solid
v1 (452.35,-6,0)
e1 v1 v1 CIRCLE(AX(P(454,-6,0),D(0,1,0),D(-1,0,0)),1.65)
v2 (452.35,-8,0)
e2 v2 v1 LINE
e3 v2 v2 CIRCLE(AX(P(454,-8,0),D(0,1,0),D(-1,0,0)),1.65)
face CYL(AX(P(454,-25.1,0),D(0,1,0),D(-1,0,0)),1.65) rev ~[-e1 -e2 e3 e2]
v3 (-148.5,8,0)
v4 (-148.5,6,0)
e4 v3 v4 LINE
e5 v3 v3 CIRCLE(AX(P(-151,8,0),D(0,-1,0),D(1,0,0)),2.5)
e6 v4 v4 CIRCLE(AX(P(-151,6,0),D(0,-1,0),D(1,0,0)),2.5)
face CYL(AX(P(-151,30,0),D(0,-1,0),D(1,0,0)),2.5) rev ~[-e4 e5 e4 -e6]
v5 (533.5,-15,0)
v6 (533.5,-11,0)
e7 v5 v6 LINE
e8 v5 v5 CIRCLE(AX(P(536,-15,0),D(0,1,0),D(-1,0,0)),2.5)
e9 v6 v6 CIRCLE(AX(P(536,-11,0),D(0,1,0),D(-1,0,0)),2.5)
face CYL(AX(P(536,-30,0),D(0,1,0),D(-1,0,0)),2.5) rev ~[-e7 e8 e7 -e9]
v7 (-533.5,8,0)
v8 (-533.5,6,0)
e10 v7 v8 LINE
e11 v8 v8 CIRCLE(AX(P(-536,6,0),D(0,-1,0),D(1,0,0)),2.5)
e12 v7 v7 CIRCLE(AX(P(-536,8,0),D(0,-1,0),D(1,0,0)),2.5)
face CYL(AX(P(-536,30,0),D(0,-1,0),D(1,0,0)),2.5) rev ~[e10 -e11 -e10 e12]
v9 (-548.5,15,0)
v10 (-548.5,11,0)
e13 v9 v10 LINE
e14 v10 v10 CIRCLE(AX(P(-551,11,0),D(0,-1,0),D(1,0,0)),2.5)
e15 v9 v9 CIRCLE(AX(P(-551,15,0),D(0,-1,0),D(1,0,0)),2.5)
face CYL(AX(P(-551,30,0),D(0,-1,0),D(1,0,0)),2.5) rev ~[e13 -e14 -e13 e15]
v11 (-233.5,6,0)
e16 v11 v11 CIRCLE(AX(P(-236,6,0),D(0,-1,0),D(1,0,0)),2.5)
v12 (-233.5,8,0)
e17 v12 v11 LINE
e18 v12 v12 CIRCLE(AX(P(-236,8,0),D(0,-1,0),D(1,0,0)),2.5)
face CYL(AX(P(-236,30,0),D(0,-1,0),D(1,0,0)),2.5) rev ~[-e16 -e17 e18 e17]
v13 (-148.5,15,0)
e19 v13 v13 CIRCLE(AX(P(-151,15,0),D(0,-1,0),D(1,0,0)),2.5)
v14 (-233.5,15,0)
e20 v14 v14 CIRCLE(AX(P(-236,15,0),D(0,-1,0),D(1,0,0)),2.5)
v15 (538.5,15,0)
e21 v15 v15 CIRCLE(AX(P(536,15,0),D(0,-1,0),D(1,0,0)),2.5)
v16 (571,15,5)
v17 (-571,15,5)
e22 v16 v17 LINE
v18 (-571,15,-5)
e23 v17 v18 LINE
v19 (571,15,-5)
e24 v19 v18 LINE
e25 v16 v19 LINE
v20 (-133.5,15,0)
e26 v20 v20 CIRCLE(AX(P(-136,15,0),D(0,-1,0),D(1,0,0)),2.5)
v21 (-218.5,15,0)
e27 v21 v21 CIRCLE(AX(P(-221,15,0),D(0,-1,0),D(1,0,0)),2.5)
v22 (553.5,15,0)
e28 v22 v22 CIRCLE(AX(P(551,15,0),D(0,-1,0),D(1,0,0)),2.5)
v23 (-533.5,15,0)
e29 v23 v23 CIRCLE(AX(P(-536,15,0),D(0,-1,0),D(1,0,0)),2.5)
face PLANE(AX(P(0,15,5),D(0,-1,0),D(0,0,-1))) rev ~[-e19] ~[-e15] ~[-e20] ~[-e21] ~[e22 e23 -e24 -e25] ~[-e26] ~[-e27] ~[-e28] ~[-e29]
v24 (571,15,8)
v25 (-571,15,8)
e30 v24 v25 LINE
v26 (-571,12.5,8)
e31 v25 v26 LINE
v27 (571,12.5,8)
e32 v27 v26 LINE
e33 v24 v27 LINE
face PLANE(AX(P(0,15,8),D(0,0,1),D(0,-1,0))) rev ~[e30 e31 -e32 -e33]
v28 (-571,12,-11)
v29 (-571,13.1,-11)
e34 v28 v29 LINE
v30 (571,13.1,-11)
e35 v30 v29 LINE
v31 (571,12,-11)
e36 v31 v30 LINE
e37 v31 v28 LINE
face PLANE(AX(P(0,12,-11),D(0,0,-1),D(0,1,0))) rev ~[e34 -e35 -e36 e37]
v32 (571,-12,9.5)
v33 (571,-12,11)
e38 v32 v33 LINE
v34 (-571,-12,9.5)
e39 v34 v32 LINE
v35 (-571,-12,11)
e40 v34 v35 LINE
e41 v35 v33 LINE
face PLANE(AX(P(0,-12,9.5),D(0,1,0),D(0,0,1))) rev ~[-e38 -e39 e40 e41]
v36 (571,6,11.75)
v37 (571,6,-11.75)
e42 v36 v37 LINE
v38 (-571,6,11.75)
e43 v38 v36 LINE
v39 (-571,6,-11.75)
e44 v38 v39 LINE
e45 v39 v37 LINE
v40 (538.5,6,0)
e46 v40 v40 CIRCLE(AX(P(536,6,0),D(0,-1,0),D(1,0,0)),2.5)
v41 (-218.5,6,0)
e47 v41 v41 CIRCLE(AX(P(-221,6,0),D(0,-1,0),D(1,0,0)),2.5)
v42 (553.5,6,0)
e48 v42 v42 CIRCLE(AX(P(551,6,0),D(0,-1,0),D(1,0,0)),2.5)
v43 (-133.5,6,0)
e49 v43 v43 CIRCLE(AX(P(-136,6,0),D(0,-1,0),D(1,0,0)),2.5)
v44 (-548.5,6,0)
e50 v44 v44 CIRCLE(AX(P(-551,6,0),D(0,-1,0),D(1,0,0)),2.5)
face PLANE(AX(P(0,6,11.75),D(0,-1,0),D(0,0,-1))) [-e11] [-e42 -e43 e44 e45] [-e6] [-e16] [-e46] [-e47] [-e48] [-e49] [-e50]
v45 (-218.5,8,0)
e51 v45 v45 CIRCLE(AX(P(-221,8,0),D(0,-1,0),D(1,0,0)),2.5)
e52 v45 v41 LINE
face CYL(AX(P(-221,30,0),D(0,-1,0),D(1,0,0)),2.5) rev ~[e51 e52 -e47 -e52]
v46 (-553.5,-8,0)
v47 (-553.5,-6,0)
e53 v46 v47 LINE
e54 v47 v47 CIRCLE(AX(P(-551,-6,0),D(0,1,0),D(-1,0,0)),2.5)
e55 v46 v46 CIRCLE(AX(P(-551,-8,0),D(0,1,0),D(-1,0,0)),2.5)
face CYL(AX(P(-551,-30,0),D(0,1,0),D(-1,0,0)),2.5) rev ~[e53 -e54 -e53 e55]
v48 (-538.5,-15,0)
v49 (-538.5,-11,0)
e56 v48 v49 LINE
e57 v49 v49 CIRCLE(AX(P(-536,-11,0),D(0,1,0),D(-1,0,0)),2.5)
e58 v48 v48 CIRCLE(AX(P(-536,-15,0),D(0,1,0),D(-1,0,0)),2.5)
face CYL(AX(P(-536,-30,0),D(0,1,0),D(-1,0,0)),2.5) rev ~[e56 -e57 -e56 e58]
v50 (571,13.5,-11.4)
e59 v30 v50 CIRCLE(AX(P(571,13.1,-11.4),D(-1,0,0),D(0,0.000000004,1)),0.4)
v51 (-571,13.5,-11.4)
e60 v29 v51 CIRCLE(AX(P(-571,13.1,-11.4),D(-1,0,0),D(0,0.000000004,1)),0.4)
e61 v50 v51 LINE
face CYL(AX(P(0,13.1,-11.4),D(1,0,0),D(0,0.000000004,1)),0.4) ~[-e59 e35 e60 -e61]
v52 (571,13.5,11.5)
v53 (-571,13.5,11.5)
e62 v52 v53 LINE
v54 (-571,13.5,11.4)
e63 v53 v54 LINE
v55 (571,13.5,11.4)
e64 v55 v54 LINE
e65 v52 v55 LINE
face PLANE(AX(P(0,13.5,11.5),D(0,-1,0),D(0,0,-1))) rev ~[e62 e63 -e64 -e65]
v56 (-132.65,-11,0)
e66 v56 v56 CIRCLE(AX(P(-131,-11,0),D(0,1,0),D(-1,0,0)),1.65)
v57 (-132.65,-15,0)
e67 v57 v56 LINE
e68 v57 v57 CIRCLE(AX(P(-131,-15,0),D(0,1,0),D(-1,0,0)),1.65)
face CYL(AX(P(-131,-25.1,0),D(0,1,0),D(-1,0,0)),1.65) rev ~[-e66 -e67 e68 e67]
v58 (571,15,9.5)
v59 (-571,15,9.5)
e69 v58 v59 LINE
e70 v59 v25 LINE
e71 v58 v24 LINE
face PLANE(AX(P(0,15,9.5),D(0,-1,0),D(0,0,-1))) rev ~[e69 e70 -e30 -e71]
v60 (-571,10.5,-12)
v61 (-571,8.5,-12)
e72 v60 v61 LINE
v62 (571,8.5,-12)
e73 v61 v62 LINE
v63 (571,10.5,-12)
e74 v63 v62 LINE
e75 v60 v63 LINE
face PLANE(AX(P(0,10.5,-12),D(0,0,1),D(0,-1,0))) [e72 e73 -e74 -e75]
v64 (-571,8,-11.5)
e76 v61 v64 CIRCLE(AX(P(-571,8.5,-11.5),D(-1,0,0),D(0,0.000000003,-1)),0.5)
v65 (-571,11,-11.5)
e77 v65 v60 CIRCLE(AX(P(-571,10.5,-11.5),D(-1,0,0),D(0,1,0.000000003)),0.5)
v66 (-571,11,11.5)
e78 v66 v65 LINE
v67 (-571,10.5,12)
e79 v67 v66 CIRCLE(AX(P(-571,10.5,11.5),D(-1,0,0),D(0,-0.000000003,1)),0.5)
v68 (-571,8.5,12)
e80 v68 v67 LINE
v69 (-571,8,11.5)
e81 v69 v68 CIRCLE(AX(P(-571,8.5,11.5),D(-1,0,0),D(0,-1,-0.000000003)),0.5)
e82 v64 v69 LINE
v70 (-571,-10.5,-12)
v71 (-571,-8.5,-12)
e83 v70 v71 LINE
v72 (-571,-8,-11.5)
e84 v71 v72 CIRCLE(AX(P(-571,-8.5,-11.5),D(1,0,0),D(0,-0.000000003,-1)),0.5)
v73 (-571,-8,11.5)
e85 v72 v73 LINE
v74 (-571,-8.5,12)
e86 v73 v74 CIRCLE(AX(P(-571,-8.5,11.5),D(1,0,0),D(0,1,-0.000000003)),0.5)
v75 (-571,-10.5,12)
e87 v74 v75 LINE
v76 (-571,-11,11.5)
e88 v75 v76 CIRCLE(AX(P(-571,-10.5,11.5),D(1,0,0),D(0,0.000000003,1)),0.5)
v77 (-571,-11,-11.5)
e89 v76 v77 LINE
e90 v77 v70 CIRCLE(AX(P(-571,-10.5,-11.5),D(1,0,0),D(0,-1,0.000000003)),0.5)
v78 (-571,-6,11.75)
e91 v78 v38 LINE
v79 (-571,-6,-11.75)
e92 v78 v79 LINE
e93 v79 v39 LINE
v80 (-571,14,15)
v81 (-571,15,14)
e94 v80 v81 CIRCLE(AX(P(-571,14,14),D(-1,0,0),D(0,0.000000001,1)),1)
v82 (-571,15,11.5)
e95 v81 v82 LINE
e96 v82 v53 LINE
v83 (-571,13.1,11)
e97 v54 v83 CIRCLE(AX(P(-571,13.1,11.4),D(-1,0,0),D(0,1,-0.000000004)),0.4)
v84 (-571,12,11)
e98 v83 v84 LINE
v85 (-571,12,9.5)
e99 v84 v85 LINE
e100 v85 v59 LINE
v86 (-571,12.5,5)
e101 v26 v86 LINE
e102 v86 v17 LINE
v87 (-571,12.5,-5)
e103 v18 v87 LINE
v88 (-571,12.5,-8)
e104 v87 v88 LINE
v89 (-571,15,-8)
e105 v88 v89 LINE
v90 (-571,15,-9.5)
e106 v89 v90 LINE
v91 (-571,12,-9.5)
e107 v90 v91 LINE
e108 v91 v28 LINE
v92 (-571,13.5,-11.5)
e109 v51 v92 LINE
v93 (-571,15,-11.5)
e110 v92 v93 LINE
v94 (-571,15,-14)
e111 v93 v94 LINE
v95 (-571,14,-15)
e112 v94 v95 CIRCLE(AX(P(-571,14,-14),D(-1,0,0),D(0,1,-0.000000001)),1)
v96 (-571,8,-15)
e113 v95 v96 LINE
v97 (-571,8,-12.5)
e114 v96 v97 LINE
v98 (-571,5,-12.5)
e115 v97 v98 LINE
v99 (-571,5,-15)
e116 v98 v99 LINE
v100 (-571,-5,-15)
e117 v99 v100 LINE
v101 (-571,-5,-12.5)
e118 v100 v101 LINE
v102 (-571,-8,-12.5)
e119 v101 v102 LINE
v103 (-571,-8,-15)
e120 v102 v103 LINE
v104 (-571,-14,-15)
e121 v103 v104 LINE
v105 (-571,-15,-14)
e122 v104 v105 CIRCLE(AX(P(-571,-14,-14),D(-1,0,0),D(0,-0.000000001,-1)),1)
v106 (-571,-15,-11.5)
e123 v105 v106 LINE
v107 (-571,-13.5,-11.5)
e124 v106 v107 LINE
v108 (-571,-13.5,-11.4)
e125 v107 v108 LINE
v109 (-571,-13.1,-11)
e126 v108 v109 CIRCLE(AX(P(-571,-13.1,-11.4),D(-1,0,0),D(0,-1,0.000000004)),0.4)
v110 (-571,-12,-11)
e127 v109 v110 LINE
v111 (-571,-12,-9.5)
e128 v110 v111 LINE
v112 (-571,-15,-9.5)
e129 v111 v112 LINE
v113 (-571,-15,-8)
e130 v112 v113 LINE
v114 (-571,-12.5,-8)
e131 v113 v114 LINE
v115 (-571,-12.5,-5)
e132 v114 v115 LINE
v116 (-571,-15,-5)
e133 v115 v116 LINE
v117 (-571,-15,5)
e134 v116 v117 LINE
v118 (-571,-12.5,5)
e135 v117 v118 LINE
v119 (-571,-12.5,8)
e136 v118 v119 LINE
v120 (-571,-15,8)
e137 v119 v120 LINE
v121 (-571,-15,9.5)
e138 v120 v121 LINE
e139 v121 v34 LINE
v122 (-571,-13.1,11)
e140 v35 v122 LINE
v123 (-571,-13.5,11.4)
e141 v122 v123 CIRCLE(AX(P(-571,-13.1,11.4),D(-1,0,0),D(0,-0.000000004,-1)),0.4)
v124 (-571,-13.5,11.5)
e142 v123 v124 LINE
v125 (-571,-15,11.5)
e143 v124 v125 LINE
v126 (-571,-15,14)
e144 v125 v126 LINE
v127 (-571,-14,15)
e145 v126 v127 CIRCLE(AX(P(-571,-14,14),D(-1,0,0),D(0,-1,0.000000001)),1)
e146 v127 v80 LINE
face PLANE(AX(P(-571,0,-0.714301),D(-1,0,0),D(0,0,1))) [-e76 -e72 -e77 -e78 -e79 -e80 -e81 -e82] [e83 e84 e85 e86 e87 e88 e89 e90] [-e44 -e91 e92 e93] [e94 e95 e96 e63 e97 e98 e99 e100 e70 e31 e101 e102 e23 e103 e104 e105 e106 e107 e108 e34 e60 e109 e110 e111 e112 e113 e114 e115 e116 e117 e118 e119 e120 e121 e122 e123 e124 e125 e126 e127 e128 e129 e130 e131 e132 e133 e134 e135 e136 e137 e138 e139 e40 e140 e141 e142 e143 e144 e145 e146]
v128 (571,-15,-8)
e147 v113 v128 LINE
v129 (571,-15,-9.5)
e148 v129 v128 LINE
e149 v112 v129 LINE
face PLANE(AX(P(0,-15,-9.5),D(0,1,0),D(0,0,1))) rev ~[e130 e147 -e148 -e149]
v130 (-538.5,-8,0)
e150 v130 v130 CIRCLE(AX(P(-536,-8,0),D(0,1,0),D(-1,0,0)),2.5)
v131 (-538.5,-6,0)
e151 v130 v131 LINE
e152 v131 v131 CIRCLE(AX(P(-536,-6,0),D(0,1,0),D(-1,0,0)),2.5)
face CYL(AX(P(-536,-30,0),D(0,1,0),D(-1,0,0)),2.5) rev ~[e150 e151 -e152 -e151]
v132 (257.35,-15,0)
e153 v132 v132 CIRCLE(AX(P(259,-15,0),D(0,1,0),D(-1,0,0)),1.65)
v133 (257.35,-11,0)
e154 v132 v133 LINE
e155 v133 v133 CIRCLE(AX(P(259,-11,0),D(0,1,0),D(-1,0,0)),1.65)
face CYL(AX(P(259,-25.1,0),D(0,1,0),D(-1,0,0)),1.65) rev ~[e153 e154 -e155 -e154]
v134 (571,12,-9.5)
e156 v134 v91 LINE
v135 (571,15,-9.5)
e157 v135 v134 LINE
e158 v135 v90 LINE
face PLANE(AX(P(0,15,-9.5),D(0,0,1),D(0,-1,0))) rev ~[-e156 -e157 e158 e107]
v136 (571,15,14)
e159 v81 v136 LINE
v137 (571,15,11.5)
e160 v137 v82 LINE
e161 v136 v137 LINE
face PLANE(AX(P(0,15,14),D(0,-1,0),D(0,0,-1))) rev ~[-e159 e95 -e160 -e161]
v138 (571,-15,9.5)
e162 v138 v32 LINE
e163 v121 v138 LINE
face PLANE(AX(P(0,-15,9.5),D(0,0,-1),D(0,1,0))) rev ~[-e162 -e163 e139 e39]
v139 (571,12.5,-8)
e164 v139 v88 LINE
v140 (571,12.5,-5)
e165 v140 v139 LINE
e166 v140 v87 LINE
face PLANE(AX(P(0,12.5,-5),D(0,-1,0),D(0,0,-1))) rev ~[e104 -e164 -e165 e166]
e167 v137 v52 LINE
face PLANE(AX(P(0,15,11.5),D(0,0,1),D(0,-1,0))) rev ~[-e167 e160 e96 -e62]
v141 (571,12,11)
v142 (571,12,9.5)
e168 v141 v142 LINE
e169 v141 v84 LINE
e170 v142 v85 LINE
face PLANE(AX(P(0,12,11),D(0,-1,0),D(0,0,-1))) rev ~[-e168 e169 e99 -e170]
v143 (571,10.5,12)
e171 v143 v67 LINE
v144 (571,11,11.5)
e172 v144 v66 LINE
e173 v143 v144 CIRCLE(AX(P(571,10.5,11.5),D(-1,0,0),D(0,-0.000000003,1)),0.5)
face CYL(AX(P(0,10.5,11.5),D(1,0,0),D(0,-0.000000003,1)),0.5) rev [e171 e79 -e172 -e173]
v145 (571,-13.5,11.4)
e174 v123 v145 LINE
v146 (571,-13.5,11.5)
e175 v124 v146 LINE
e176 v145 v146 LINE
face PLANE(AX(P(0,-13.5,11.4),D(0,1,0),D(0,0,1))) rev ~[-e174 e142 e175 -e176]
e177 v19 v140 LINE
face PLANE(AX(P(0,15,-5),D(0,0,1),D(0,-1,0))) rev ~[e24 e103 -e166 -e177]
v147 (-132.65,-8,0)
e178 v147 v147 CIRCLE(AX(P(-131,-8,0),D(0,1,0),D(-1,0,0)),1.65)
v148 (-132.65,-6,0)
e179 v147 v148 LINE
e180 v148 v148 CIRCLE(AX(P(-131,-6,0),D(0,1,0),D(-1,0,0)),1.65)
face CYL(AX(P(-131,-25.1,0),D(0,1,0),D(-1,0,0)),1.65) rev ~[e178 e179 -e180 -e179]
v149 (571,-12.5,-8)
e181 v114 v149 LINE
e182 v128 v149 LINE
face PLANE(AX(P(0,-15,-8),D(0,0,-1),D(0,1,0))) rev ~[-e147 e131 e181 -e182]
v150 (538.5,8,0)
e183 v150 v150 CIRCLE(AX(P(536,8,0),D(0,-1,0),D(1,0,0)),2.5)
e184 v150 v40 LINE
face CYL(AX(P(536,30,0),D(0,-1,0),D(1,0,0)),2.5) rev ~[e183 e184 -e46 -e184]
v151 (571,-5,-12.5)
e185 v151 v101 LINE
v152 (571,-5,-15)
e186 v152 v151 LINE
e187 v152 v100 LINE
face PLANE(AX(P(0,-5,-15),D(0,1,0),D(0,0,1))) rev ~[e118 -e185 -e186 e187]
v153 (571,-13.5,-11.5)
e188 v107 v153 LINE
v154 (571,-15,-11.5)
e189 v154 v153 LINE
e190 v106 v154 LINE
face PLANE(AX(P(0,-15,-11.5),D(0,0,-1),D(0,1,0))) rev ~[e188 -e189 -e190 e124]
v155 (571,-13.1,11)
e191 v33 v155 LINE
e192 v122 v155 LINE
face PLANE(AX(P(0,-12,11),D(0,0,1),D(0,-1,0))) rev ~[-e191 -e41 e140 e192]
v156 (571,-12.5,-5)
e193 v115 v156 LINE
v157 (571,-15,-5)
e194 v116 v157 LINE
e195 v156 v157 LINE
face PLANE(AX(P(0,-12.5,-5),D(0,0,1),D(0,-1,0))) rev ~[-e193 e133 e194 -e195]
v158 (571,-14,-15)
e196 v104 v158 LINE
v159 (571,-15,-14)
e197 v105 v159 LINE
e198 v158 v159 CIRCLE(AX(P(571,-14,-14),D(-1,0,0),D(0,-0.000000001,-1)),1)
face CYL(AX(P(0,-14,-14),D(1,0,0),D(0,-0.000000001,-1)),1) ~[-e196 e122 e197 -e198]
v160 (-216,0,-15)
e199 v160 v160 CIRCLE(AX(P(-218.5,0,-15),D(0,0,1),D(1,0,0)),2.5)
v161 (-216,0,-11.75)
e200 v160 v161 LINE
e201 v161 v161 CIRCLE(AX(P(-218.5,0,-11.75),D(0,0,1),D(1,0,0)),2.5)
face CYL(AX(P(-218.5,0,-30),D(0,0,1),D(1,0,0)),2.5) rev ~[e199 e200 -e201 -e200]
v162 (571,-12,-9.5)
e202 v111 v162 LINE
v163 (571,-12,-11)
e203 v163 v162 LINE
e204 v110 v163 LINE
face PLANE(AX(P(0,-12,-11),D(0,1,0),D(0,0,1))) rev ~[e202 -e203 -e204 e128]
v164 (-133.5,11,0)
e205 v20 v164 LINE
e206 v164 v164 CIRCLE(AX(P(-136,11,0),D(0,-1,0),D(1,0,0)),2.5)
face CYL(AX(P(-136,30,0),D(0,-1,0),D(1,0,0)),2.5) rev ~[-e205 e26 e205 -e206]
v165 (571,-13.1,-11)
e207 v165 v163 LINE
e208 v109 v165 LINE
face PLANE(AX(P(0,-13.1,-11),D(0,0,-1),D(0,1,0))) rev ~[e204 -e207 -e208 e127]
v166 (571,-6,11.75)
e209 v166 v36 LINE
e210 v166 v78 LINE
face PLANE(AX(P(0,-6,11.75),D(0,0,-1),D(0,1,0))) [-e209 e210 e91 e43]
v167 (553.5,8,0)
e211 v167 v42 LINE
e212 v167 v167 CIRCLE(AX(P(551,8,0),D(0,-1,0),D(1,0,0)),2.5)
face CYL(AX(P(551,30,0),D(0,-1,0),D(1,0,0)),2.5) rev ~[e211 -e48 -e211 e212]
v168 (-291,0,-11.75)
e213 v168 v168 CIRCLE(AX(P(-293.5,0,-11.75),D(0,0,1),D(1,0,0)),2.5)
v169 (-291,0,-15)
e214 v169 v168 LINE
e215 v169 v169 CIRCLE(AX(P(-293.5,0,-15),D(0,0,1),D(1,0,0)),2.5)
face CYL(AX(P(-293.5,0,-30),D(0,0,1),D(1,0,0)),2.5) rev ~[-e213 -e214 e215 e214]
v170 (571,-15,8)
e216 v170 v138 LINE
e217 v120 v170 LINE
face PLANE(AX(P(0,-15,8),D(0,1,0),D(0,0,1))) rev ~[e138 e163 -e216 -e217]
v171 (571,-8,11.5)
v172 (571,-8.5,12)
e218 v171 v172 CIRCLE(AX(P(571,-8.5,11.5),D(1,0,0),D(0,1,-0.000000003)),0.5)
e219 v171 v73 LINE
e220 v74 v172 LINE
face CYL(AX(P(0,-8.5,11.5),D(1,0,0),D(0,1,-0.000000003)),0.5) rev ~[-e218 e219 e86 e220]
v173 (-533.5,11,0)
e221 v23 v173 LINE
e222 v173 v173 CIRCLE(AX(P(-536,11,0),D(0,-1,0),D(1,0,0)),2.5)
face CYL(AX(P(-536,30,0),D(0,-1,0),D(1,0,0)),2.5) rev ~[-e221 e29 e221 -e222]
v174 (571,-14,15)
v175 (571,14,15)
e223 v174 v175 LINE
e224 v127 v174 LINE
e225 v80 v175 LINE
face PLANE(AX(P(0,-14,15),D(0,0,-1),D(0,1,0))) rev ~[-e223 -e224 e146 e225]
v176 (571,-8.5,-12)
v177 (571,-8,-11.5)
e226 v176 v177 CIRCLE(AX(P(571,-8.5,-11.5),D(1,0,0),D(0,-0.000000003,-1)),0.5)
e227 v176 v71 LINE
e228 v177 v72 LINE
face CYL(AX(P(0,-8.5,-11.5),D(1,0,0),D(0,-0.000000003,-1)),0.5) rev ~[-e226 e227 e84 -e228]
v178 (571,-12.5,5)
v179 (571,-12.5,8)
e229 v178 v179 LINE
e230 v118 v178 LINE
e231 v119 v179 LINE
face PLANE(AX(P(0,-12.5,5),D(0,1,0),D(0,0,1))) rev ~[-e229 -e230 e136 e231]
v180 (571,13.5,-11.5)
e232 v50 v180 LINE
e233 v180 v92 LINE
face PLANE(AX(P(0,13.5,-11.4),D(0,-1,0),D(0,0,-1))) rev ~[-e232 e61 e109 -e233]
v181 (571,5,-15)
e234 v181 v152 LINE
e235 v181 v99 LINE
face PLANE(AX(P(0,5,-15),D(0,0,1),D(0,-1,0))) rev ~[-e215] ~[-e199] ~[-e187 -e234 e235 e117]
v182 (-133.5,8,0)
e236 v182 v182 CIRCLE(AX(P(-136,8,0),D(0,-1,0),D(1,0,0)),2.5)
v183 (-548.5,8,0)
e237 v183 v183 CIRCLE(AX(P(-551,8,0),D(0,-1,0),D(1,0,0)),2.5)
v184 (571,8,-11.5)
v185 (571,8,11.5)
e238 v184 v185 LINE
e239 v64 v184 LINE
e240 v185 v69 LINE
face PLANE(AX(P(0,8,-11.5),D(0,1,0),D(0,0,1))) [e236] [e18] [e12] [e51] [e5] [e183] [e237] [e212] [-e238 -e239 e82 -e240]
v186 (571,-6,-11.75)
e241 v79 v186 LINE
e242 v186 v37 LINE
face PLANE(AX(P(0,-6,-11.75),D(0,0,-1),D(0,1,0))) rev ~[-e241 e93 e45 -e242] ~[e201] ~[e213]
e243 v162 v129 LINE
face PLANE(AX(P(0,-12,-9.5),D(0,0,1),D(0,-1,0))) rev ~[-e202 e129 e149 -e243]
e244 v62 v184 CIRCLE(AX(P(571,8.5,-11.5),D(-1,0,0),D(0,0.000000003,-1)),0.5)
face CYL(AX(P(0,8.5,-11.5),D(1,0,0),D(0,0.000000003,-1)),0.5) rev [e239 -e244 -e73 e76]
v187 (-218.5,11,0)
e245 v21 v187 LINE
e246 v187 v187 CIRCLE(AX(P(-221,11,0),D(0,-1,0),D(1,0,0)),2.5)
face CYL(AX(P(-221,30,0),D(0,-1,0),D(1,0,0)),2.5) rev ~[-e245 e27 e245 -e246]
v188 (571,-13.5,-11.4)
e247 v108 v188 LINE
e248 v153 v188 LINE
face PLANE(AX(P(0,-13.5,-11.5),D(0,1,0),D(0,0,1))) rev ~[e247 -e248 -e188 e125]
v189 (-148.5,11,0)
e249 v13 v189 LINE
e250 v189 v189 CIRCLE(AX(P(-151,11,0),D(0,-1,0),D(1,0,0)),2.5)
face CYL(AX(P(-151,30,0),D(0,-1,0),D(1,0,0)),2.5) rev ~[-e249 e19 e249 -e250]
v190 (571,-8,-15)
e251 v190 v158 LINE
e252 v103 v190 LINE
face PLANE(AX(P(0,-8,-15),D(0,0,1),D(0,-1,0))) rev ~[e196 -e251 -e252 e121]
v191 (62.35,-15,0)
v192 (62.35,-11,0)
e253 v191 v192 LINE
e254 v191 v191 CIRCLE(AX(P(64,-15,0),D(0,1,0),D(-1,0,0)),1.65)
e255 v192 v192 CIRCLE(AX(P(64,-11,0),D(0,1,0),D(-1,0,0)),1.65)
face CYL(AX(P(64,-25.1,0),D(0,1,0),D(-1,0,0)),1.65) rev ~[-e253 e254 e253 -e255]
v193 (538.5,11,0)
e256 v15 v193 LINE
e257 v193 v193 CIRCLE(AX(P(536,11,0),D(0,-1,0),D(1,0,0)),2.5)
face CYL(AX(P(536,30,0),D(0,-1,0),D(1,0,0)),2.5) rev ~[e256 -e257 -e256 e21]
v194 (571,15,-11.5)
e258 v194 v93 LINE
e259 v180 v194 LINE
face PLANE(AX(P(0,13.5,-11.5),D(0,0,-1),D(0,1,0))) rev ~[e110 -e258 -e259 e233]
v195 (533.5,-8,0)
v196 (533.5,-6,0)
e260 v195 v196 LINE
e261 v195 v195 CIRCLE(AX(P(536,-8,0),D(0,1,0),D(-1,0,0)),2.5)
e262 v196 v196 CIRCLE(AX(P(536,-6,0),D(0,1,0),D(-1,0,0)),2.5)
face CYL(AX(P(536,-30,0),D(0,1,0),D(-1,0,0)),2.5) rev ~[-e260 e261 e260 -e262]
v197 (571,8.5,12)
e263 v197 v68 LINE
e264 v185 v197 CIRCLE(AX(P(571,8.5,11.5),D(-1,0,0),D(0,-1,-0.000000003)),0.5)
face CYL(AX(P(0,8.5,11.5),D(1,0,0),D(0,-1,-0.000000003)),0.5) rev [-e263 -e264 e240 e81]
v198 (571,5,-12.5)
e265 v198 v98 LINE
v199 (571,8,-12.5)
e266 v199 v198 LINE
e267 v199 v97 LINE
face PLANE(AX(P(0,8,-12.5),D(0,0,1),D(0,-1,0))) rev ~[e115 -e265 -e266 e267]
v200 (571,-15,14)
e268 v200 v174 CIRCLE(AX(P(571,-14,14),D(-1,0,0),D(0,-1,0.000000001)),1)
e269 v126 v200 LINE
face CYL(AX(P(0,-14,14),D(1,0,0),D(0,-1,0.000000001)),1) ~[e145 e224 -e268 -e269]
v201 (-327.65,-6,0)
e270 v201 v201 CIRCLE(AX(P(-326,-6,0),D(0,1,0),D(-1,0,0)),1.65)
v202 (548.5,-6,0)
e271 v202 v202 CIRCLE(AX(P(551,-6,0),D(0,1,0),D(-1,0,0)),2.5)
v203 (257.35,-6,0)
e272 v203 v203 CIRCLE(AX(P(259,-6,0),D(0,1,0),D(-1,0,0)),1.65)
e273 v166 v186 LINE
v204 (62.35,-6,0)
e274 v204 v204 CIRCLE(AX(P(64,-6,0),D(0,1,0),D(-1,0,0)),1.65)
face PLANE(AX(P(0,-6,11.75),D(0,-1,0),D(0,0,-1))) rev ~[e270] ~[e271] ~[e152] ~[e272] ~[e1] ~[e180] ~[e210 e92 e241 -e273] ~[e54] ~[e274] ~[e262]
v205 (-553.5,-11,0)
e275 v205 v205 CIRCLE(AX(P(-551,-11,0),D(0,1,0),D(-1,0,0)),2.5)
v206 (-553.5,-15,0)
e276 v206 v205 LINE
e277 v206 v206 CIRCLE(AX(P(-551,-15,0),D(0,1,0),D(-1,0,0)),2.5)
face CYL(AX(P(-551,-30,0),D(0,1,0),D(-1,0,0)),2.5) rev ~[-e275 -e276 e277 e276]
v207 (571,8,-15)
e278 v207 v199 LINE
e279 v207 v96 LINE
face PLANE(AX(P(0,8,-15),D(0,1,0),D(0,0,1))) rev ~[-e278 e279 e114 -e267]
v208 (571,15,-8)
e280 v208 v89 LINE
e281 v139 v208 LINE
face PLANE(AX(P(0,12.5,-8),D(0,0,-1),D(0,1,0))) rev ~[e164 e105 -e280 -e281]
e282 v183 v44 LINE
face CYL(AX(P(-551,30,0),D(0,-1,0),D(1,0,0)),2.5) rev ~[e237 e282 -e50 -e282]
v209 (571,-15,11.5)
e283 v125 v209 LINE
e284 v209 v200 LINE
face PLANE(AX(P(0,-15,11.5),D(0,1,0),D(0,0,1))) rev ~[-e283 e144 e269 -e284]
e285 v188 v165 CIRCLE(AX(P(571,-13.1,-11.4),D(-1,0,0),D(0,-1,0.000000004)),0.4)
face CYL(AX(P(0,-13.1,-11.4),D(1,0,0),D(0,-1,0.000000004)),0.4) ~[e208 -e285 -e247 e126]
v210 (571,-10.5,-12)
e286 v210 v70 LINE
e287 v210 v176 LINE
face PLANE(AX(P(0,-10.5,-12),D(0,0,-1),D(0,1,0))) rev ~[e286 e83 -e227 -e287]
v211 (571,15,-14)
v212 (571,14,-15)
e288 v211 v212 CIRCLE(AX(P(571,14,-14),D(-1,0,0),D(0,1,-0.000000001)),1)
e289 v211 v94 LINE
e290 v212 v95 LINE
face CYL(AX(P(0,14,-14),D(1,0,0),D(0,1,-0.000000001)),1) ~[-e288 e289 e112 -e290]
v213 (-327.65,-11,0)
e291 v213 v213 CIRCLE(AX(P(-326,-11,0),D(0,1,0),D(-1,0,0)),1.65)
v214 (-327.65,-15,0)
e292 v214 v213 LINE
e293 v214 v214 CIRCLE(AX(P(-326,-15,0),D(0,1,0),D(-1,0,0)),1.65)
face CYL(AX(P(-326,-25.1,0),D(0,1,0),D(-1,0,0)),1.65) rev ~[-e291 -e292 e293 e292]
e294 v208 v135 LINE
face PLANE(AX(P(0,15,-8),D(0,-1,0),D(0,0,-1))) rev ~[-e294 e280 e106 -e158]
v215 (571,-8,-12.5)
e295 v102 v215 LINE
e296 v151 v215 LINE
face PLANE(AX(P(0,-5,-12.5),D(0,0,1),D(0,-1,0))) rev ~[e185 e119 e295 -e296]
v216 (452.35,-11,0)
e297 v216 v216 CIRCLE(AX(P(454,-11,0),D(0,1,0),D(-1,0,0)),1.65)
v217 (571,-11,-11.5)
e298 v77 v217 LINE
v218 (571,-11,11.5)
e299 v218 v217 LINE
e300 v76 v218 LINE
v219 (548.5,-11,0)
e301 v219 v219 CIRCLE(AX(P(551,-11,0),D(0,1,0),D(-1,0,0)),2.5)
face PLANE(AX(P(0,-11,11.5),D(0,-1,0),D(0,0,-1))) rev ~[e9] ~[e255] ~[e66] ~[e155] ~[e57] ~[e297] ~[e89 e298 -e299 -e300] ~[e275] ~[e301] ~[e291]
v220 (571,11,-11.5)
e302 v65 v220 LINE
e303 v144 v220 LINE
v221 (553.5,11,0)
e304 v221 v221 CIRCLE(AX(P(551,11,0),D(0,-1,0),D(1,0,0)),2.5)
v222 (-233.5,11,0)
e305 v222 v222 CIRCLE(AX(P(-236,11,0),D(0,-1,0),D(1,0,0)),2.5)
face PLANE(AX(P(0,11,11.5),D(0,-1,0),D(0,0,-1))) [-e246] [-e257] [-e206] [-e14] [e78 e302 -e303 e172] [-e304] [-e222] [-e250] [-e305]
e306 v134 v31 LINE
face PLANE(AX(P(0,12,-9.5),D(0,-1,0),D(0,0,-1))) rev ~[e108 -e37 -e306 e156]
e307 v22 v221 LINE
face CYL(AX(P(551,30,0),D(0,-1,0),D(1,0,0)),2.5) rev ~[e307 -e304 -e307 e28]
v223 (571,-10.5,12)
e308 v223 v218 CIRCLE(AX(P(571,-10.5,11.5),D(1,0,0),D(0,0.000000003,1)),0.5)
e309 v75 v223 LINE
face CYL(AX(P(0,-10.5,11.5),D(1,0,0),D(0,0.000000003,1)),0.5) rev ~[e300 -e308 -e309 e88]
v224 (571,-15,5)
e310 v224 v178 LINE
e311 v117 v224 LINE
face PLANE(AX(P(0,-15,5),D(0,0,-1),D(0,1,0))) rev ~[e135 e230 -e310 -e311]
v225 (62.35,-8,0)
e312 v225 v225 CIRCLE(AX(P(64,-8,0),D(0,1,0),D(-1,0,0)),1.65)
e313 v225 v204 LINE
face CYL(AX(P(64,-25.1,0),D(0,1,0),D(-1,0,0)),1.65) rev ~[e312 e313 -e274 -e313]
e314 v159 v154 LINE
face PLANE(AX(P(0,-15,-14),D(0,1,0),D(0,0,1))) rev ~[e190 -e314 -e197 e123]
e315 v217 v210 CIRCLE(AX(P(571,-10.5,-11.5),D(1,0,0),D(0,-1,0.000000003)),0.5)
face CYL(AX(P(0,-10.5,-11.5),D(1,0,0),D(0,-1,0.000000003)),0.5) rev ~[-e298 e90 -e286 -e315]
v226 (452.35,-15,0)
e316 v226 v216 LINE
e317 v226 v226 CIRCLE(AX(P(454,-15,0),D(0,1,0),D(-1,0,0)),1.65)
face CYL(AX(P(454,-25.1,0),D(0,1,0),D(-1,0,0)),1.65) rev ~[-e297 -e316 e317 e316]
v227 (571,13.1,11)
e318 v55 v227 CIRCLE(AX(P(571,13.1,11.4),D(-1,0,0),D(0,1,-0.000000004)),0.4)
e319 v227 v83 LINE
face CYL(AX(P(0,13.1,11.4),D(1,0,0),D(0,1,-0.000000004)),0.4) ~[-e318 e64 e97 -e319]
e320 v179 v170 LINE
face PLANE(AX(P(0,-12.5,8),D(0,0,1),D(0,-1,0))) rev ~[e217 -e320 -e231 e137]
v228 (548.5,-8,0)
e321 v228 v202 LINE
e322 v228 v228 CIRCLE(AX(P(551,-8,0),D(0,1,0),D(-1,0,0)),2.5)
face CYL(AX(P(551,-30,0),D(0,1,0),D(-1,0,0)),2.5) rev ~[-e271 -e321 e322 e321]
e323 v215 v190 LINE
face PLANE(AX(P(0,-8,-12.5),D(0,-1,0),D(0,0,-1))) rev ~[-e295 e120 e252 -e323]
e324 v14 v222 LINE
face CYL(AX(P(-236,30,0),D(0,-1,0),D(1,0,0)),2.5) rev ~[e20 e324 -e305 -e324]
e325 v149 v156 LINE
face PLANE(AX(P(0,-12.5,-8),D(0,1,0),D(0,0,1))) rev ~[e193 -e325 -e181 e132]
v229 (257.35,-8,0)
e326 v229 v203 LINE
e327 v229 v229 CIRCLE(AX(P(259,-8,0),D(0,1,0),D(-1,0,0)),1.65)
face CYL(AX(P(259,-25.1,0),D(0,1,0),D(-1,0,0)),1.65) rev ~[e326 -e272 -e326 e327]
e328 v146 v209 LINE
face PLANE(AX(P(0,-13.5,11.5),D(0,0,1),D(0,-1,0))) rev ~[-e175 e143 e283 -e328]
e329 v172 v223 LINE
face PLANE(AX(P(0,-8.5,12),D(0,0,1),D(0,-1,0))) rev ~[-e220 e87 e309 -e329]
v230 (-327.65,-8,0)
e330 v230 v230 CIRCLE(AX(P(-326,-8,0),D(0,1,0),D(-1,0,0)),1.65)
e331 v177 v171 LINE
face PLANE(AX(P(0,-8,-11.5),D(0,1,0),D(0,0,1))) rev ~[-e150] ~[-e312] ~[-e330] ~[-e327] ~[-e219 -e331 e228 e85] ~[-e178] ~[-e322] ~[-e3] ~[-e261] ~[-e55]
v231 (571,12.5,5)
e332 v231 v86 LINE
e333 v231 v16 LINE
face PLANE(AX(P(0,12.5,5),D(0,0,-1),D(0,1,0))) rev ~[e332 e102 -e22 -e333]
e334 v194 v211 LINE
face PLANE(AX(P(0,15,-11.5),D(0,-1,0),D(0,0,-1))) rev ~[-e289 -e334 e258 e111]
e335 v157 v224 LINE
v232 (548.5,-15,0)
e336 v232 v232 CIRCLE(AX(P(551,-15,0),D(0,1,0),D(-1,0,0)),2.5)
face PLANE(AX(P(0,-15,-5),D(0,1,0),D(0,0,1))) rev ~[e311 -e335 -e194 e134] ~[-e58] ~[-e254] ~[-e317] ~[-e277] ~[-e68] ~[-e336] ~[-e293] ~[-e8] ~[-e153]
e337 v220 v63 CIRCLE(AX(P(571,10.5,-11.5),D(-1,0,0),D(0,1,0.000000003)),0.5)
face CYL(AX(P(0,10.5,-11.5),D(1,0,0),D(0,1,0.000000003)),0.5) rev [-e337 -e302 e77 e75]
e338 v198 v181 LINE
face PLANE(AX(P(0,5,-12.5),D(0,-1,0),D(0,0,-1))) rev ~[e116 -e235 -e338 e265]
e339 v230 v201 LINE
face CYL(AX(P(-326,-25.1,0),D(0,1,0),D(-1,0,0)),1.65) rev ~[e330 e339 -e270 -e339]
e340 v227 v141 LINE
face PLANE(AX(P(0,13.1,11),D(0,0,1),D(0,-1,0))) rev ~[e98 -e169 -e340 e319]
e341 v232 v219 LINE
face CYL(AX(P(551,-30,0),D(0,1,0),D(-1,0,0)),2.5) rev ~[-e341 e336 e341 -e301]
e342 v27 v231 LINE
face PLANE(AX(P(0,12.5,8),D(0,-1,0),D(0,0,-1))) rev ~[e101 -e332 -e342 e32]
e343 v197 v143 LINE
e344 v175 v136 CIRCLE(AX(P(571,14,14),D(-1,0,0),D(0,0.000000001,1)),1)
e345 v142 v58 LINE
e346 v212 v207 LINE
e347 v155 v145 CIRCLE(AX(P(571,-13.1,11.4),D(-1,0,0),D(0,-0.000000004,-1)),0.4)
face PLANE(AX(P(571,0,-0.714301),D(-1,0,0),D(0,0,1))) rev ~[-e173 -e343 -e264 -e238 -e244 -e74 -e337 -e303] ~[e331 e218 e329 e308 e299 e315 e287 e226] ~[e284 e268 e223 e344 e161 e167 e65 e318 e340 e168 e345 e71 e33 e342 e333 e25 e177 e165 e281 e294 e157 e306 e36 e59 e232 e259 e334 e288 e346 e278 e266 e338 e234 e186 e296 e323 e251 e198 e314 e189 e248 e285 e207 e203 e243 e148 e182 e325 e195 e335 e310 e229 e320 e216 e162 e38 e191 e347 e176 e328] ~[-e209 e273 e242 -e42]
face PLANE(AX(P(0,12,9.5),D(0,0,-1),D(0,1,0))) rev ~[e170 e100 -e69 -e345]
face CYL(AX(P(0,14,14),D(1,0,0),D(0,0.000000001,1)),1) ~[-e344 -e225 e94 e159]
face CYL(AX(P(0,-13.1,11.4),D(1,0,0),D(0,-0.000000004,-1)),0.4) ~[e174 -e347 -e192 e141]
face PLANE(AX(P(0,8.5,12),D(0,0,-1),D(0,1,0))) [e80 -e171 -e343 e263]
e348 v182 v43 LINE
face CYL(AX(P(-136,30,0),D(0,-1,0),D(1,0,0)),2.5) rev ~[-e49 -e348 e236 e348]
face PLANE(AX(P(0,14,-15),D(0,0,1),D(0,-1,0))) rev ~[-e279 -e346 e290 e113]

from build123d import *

# Parameters (mm, degrees)
SKETCH_1_W             = 23.5
SKETCH_1_H             = 12
EXTRUDE_1_DEPTH        = 571
HOLE_WIZARD_M6_1_D     = 5
HOLE_WIZARD_M6_1_DEPTH = 15
HOLE_WIZARD_M6_1_TIP   = 1.502151548
HOLE_WIZARD_M6_2_D     = 5
HOLE_WIZARD_M6_2_DEPTH = 15
HOLE_WIZARD_M6_2_TIP   = 1.502151548
HOLE_WIZARD_M6_3_D     = 5
HOLE_WIZARD_M6_3_DEPTH = 15
HOLE_WIZARD_M6_3_TIP   = 1.502151548
HOLE_WIZARD_M4_1_D     = 3.3
HOLE_WIZARD_M4_1_DEPTH = 10.1
HOLE_WIZARD_M4_1_TIP   = 0.991420021


with BuildPart() as part:
    # 草图1 → 凸台-拉伸1 (new, symmetric)
    with BuildSketch(Plane(origin=(0, 0, 0), x_dir=(0, 0, -1), z_dir=(1, 0, 0))):
        with BuildLine():
            Line((-14, 15), (-11.5, 15))
            Line((-11.5, 15), (-11.5, 13.5))
            Line((-11.5, 13.5), (-11.4, 13.5))
            ThreePointArc((-11.4, 13.5), (-11.117157288, 13.382842712), (-11, 13.1))
            Line((-11, 13.1), (-11, 12))
            Line((-11, 12), (-9.5, 12))
            Line((-9.5, 12), (-9.5, 15))
            Line((-9.5, 15), (-8, 15))
            Line((-8, 15), (-8, 12.5))
            Line((-8, 12.5), (-5, 12.5))
            Line((-5, 12.5), (-5, 15))
            Line((-5, 15), (5, 15))
            Line((5, 15), (5, 12.5))
            Line((5, 12.5), (8, 12.5))
            Line((8, 12.5), (8, 15))
            Line((8, 15), (9.5, 15))
            Line((9.5, 15), (9.5, 12))
            Line((9.5, 12), (11, 12))
            Line((11, 12), (11, 13.1))
            ThreePointArc((11, 13.1), (11.117157288, 13.382842712), (11.4, 13.5))
            Line((11.4, 13.5), (11.5, 13.5))
            Line((11.5, 13.5), (11.5, 15))
            Line((11.5, 15), (14, 15))
            ThreePointArc((14, 15), (14.707106781, 14.707106781), (15, 14))
            Line((15, 14), (15, 8))
            Line((15, 8), (12.5, 8))
            Line((12.5, 8), (12.5, 5))
            Line((12.5, 5), (15, 5))
            Line((15, 5), (15, -5))
            Line((15, -5), (12.5, -5))
            Line((12.5, -5), (12.5, -8))
            Line((12.5, -8), (15, -8))
            Line((15, -8), (15, -14))
            ThreePointArc((15, -14), (14.707106781, -14.707106781), (14, -15))
            Line((14, -15), (11.5, -15))
            Line((11.5, -15), (11.5, -13.5))
            Line((11.5, -13.5), (11.4, -13.5))
            ThreePointArc((11.4, -13.5), (11.117157288, -13.382842712), (11, -13.1))
            Line((11, -13.1), (11, -12))
            Line((11, -12), (9.5, -12))
            Line((9.5, -12), (9.5, -15))
            Line((9.5, -15), (8, -15))
            Line((8, -15), (8, -12.5))
            Line((8, -12.5), (5, -12.5))
            Line((5, -12.5), (5, -15))
            Line((5, -15), (-5, -15))
            Line((-5, -15), (-5, -12.5))
            Line((-5, -12.5), (-8, -12.5))
            Line((-8, -12.5), (-8, -15))
            Line((-8, -15), (-9.5, -15))
            Line((-9.5, -15), (-9.5, -12))
            Line((-9.5, -12), (-11, -12))
            Line((-11, -12), (-11, -13.1))
            ThreePointArc((-11, -13.1), (-11.117157288, -13.382842712), (-11.4, -13.5))
            Line((-11.4, -13.5), (-11.5, -13.5))
            Line((-11.5, -13.5), (-11.5, -15))
            Line((-11.5, -15), (-14, -15))
            ThreePointArc((-14, -15), (-14.707106781, -14.707106781), (-15, -14))
            Line((-15, -14), (-15, 14))
            ThreePointArc((-15, 14), (-14.707106781, 14.707106781), (-14, 15))
        make_face()
        with BuildLine():
            Line((12, -10.5), (12, -8.5))
            ThreePointArc((12, -8.5), (11.853553391, -8.146446609), (11.5, -8))
            Line((11.5, -8), (-11.5, -8))
            ThreePointArc((-11.5, -8), (-11.853553391, -8.146446609), (-12, -8.5))
            Line((-12, -8.5), (-12, -10.5))
            ThreePointArc((-12, -10.5), (-11.853553391, -10.853553391), (-11.5, -11))
            Line((-11.5, -11), (11.5, -11))
            ThreePointArc((11.5, -11), (11.853553391, -10.853553391), (12, -10.5))
        make_face(mode=Mode.SUBTRACT)
        with BuildLine():
            Line((-11.5, 11), (11.5, 11))
            ThreePointArc((11.5, 11), (11.853553391, 10.853553391), (12, 10.5))
            Line((12, 10.5), (12, 8.5))
            ThreePointArc((12, 8.5), (11.853553391, 8.146446609), (11.5, 8))
            Line((11.5, 8), (-11.5, 8))
            ThreePointArc((-11.5, 8), (-11.853553391, 8.146446609), (-12, 8.5))
            Line((-12, 8.5), (-12, 10.5))
            ThreePointArc((-12, 10.5), (-11.853553391, 10.853553391), (-11.5, 11))
        make_face(mode=Mode.SUBTRACT)
        Rectangle(SKETCH_1_W, SKETCH_1_H, mode=Mode.SUBTRACT)
    extrude(amount=EXTRUDE_1_DEPTH, both=True)

    # M6 螺纹孔1
    with Locations(Plane(origin=(0, 15, 0), x_dir=(-1, 0, 0), z_dir=(0, 1, 0))):
        with Locations((551, 0), (536, 0), (236, 0), (221, 0), (151, 0), (136, 0), (-536, 0), (-551, 0)):
            Hole(HOLE_WIZARD_M6_1_D / 2, depth=HOLE_WIZARD_M6_1_DEPTH)
            with Locations((0, 0, -(HOLE_WIZARD_M6_1_DEPTH + HOLE_WIZARD_M6_1_TIP / 2))):  # 118° drill point
                Cone(0, HOLE_WIZARD_M6_1_D / 2, HOLE_WIZARD_M6_1_TIP, mode=Mode.SUBTRACT)

    # M6 螺纹孔2
    with Locations(Plane.XZ.offset(15)):
        with Locations((-551, 0), (-536, 0), (536, 0), (551, 0)):
            Hole(HOLE_WIZARD_M6_2_D / 2, depth=HOLE_WIZARD_M6_2_DEPTH)
            with Locations((0, 0, -(HOLE_WIZARD_M6_2_DEPTH + HOLE_WIZARD_M6_2_TIP / 2))):  # 118° drill point
                Cone(0, HOLE_WIZARD_M6_2_D / 2, HOLE_WIZARD_M6_2_TIP, mode=Mode.SUBTRACT)

    # M6 螺纹孔3
    with Locations(Plane(origin=(0, 0, -15), x_dir=(-1, 0, 0), z_dir=(0, 0, -1))):
        with Locations((293.5, 0), (218.5, 0)):
            Hole(HOLE_WIZARD_M6_3_D / 2, depth=HOLE_WIZARD_M6_3_DEPTH)
            with Locations((0, 0, -(HOLE_WIZARD_M6_3_DEPTH + HOLE_WIZARD_M6_3_TIP / 2))):  # 118° drill point
                Cone(0, HOLE_WIZARD_M6_3_D / 2, HOLE_WIZARD_M6_3_TIP, mode=Mode.SUBTRACT)

    # M4 螺纹孔1
    with Locations(Plane.XZ.offset(15)):
        with Locations((-326, 0), (-131, 0), (64, 0), (259, 0), (454, 0)):
            Hole(HOLE_WIZARD_M4_1_D / 2, depth=HOLE_WIZARD_M4_1_DEPTH)
            with Locations((0, 0, -(HOLE_WIZARD_M4_1_DEPTH + HOLE_WIZARD_M4_1_TIP / 2))):  # 118° drill point
                Cone(0, HOLE_WIZARD_M4_1_D / 2, HOLE_WIZARD_M4_1_TIP, mode=Mode.SUBTRACT)


solid = part.part
